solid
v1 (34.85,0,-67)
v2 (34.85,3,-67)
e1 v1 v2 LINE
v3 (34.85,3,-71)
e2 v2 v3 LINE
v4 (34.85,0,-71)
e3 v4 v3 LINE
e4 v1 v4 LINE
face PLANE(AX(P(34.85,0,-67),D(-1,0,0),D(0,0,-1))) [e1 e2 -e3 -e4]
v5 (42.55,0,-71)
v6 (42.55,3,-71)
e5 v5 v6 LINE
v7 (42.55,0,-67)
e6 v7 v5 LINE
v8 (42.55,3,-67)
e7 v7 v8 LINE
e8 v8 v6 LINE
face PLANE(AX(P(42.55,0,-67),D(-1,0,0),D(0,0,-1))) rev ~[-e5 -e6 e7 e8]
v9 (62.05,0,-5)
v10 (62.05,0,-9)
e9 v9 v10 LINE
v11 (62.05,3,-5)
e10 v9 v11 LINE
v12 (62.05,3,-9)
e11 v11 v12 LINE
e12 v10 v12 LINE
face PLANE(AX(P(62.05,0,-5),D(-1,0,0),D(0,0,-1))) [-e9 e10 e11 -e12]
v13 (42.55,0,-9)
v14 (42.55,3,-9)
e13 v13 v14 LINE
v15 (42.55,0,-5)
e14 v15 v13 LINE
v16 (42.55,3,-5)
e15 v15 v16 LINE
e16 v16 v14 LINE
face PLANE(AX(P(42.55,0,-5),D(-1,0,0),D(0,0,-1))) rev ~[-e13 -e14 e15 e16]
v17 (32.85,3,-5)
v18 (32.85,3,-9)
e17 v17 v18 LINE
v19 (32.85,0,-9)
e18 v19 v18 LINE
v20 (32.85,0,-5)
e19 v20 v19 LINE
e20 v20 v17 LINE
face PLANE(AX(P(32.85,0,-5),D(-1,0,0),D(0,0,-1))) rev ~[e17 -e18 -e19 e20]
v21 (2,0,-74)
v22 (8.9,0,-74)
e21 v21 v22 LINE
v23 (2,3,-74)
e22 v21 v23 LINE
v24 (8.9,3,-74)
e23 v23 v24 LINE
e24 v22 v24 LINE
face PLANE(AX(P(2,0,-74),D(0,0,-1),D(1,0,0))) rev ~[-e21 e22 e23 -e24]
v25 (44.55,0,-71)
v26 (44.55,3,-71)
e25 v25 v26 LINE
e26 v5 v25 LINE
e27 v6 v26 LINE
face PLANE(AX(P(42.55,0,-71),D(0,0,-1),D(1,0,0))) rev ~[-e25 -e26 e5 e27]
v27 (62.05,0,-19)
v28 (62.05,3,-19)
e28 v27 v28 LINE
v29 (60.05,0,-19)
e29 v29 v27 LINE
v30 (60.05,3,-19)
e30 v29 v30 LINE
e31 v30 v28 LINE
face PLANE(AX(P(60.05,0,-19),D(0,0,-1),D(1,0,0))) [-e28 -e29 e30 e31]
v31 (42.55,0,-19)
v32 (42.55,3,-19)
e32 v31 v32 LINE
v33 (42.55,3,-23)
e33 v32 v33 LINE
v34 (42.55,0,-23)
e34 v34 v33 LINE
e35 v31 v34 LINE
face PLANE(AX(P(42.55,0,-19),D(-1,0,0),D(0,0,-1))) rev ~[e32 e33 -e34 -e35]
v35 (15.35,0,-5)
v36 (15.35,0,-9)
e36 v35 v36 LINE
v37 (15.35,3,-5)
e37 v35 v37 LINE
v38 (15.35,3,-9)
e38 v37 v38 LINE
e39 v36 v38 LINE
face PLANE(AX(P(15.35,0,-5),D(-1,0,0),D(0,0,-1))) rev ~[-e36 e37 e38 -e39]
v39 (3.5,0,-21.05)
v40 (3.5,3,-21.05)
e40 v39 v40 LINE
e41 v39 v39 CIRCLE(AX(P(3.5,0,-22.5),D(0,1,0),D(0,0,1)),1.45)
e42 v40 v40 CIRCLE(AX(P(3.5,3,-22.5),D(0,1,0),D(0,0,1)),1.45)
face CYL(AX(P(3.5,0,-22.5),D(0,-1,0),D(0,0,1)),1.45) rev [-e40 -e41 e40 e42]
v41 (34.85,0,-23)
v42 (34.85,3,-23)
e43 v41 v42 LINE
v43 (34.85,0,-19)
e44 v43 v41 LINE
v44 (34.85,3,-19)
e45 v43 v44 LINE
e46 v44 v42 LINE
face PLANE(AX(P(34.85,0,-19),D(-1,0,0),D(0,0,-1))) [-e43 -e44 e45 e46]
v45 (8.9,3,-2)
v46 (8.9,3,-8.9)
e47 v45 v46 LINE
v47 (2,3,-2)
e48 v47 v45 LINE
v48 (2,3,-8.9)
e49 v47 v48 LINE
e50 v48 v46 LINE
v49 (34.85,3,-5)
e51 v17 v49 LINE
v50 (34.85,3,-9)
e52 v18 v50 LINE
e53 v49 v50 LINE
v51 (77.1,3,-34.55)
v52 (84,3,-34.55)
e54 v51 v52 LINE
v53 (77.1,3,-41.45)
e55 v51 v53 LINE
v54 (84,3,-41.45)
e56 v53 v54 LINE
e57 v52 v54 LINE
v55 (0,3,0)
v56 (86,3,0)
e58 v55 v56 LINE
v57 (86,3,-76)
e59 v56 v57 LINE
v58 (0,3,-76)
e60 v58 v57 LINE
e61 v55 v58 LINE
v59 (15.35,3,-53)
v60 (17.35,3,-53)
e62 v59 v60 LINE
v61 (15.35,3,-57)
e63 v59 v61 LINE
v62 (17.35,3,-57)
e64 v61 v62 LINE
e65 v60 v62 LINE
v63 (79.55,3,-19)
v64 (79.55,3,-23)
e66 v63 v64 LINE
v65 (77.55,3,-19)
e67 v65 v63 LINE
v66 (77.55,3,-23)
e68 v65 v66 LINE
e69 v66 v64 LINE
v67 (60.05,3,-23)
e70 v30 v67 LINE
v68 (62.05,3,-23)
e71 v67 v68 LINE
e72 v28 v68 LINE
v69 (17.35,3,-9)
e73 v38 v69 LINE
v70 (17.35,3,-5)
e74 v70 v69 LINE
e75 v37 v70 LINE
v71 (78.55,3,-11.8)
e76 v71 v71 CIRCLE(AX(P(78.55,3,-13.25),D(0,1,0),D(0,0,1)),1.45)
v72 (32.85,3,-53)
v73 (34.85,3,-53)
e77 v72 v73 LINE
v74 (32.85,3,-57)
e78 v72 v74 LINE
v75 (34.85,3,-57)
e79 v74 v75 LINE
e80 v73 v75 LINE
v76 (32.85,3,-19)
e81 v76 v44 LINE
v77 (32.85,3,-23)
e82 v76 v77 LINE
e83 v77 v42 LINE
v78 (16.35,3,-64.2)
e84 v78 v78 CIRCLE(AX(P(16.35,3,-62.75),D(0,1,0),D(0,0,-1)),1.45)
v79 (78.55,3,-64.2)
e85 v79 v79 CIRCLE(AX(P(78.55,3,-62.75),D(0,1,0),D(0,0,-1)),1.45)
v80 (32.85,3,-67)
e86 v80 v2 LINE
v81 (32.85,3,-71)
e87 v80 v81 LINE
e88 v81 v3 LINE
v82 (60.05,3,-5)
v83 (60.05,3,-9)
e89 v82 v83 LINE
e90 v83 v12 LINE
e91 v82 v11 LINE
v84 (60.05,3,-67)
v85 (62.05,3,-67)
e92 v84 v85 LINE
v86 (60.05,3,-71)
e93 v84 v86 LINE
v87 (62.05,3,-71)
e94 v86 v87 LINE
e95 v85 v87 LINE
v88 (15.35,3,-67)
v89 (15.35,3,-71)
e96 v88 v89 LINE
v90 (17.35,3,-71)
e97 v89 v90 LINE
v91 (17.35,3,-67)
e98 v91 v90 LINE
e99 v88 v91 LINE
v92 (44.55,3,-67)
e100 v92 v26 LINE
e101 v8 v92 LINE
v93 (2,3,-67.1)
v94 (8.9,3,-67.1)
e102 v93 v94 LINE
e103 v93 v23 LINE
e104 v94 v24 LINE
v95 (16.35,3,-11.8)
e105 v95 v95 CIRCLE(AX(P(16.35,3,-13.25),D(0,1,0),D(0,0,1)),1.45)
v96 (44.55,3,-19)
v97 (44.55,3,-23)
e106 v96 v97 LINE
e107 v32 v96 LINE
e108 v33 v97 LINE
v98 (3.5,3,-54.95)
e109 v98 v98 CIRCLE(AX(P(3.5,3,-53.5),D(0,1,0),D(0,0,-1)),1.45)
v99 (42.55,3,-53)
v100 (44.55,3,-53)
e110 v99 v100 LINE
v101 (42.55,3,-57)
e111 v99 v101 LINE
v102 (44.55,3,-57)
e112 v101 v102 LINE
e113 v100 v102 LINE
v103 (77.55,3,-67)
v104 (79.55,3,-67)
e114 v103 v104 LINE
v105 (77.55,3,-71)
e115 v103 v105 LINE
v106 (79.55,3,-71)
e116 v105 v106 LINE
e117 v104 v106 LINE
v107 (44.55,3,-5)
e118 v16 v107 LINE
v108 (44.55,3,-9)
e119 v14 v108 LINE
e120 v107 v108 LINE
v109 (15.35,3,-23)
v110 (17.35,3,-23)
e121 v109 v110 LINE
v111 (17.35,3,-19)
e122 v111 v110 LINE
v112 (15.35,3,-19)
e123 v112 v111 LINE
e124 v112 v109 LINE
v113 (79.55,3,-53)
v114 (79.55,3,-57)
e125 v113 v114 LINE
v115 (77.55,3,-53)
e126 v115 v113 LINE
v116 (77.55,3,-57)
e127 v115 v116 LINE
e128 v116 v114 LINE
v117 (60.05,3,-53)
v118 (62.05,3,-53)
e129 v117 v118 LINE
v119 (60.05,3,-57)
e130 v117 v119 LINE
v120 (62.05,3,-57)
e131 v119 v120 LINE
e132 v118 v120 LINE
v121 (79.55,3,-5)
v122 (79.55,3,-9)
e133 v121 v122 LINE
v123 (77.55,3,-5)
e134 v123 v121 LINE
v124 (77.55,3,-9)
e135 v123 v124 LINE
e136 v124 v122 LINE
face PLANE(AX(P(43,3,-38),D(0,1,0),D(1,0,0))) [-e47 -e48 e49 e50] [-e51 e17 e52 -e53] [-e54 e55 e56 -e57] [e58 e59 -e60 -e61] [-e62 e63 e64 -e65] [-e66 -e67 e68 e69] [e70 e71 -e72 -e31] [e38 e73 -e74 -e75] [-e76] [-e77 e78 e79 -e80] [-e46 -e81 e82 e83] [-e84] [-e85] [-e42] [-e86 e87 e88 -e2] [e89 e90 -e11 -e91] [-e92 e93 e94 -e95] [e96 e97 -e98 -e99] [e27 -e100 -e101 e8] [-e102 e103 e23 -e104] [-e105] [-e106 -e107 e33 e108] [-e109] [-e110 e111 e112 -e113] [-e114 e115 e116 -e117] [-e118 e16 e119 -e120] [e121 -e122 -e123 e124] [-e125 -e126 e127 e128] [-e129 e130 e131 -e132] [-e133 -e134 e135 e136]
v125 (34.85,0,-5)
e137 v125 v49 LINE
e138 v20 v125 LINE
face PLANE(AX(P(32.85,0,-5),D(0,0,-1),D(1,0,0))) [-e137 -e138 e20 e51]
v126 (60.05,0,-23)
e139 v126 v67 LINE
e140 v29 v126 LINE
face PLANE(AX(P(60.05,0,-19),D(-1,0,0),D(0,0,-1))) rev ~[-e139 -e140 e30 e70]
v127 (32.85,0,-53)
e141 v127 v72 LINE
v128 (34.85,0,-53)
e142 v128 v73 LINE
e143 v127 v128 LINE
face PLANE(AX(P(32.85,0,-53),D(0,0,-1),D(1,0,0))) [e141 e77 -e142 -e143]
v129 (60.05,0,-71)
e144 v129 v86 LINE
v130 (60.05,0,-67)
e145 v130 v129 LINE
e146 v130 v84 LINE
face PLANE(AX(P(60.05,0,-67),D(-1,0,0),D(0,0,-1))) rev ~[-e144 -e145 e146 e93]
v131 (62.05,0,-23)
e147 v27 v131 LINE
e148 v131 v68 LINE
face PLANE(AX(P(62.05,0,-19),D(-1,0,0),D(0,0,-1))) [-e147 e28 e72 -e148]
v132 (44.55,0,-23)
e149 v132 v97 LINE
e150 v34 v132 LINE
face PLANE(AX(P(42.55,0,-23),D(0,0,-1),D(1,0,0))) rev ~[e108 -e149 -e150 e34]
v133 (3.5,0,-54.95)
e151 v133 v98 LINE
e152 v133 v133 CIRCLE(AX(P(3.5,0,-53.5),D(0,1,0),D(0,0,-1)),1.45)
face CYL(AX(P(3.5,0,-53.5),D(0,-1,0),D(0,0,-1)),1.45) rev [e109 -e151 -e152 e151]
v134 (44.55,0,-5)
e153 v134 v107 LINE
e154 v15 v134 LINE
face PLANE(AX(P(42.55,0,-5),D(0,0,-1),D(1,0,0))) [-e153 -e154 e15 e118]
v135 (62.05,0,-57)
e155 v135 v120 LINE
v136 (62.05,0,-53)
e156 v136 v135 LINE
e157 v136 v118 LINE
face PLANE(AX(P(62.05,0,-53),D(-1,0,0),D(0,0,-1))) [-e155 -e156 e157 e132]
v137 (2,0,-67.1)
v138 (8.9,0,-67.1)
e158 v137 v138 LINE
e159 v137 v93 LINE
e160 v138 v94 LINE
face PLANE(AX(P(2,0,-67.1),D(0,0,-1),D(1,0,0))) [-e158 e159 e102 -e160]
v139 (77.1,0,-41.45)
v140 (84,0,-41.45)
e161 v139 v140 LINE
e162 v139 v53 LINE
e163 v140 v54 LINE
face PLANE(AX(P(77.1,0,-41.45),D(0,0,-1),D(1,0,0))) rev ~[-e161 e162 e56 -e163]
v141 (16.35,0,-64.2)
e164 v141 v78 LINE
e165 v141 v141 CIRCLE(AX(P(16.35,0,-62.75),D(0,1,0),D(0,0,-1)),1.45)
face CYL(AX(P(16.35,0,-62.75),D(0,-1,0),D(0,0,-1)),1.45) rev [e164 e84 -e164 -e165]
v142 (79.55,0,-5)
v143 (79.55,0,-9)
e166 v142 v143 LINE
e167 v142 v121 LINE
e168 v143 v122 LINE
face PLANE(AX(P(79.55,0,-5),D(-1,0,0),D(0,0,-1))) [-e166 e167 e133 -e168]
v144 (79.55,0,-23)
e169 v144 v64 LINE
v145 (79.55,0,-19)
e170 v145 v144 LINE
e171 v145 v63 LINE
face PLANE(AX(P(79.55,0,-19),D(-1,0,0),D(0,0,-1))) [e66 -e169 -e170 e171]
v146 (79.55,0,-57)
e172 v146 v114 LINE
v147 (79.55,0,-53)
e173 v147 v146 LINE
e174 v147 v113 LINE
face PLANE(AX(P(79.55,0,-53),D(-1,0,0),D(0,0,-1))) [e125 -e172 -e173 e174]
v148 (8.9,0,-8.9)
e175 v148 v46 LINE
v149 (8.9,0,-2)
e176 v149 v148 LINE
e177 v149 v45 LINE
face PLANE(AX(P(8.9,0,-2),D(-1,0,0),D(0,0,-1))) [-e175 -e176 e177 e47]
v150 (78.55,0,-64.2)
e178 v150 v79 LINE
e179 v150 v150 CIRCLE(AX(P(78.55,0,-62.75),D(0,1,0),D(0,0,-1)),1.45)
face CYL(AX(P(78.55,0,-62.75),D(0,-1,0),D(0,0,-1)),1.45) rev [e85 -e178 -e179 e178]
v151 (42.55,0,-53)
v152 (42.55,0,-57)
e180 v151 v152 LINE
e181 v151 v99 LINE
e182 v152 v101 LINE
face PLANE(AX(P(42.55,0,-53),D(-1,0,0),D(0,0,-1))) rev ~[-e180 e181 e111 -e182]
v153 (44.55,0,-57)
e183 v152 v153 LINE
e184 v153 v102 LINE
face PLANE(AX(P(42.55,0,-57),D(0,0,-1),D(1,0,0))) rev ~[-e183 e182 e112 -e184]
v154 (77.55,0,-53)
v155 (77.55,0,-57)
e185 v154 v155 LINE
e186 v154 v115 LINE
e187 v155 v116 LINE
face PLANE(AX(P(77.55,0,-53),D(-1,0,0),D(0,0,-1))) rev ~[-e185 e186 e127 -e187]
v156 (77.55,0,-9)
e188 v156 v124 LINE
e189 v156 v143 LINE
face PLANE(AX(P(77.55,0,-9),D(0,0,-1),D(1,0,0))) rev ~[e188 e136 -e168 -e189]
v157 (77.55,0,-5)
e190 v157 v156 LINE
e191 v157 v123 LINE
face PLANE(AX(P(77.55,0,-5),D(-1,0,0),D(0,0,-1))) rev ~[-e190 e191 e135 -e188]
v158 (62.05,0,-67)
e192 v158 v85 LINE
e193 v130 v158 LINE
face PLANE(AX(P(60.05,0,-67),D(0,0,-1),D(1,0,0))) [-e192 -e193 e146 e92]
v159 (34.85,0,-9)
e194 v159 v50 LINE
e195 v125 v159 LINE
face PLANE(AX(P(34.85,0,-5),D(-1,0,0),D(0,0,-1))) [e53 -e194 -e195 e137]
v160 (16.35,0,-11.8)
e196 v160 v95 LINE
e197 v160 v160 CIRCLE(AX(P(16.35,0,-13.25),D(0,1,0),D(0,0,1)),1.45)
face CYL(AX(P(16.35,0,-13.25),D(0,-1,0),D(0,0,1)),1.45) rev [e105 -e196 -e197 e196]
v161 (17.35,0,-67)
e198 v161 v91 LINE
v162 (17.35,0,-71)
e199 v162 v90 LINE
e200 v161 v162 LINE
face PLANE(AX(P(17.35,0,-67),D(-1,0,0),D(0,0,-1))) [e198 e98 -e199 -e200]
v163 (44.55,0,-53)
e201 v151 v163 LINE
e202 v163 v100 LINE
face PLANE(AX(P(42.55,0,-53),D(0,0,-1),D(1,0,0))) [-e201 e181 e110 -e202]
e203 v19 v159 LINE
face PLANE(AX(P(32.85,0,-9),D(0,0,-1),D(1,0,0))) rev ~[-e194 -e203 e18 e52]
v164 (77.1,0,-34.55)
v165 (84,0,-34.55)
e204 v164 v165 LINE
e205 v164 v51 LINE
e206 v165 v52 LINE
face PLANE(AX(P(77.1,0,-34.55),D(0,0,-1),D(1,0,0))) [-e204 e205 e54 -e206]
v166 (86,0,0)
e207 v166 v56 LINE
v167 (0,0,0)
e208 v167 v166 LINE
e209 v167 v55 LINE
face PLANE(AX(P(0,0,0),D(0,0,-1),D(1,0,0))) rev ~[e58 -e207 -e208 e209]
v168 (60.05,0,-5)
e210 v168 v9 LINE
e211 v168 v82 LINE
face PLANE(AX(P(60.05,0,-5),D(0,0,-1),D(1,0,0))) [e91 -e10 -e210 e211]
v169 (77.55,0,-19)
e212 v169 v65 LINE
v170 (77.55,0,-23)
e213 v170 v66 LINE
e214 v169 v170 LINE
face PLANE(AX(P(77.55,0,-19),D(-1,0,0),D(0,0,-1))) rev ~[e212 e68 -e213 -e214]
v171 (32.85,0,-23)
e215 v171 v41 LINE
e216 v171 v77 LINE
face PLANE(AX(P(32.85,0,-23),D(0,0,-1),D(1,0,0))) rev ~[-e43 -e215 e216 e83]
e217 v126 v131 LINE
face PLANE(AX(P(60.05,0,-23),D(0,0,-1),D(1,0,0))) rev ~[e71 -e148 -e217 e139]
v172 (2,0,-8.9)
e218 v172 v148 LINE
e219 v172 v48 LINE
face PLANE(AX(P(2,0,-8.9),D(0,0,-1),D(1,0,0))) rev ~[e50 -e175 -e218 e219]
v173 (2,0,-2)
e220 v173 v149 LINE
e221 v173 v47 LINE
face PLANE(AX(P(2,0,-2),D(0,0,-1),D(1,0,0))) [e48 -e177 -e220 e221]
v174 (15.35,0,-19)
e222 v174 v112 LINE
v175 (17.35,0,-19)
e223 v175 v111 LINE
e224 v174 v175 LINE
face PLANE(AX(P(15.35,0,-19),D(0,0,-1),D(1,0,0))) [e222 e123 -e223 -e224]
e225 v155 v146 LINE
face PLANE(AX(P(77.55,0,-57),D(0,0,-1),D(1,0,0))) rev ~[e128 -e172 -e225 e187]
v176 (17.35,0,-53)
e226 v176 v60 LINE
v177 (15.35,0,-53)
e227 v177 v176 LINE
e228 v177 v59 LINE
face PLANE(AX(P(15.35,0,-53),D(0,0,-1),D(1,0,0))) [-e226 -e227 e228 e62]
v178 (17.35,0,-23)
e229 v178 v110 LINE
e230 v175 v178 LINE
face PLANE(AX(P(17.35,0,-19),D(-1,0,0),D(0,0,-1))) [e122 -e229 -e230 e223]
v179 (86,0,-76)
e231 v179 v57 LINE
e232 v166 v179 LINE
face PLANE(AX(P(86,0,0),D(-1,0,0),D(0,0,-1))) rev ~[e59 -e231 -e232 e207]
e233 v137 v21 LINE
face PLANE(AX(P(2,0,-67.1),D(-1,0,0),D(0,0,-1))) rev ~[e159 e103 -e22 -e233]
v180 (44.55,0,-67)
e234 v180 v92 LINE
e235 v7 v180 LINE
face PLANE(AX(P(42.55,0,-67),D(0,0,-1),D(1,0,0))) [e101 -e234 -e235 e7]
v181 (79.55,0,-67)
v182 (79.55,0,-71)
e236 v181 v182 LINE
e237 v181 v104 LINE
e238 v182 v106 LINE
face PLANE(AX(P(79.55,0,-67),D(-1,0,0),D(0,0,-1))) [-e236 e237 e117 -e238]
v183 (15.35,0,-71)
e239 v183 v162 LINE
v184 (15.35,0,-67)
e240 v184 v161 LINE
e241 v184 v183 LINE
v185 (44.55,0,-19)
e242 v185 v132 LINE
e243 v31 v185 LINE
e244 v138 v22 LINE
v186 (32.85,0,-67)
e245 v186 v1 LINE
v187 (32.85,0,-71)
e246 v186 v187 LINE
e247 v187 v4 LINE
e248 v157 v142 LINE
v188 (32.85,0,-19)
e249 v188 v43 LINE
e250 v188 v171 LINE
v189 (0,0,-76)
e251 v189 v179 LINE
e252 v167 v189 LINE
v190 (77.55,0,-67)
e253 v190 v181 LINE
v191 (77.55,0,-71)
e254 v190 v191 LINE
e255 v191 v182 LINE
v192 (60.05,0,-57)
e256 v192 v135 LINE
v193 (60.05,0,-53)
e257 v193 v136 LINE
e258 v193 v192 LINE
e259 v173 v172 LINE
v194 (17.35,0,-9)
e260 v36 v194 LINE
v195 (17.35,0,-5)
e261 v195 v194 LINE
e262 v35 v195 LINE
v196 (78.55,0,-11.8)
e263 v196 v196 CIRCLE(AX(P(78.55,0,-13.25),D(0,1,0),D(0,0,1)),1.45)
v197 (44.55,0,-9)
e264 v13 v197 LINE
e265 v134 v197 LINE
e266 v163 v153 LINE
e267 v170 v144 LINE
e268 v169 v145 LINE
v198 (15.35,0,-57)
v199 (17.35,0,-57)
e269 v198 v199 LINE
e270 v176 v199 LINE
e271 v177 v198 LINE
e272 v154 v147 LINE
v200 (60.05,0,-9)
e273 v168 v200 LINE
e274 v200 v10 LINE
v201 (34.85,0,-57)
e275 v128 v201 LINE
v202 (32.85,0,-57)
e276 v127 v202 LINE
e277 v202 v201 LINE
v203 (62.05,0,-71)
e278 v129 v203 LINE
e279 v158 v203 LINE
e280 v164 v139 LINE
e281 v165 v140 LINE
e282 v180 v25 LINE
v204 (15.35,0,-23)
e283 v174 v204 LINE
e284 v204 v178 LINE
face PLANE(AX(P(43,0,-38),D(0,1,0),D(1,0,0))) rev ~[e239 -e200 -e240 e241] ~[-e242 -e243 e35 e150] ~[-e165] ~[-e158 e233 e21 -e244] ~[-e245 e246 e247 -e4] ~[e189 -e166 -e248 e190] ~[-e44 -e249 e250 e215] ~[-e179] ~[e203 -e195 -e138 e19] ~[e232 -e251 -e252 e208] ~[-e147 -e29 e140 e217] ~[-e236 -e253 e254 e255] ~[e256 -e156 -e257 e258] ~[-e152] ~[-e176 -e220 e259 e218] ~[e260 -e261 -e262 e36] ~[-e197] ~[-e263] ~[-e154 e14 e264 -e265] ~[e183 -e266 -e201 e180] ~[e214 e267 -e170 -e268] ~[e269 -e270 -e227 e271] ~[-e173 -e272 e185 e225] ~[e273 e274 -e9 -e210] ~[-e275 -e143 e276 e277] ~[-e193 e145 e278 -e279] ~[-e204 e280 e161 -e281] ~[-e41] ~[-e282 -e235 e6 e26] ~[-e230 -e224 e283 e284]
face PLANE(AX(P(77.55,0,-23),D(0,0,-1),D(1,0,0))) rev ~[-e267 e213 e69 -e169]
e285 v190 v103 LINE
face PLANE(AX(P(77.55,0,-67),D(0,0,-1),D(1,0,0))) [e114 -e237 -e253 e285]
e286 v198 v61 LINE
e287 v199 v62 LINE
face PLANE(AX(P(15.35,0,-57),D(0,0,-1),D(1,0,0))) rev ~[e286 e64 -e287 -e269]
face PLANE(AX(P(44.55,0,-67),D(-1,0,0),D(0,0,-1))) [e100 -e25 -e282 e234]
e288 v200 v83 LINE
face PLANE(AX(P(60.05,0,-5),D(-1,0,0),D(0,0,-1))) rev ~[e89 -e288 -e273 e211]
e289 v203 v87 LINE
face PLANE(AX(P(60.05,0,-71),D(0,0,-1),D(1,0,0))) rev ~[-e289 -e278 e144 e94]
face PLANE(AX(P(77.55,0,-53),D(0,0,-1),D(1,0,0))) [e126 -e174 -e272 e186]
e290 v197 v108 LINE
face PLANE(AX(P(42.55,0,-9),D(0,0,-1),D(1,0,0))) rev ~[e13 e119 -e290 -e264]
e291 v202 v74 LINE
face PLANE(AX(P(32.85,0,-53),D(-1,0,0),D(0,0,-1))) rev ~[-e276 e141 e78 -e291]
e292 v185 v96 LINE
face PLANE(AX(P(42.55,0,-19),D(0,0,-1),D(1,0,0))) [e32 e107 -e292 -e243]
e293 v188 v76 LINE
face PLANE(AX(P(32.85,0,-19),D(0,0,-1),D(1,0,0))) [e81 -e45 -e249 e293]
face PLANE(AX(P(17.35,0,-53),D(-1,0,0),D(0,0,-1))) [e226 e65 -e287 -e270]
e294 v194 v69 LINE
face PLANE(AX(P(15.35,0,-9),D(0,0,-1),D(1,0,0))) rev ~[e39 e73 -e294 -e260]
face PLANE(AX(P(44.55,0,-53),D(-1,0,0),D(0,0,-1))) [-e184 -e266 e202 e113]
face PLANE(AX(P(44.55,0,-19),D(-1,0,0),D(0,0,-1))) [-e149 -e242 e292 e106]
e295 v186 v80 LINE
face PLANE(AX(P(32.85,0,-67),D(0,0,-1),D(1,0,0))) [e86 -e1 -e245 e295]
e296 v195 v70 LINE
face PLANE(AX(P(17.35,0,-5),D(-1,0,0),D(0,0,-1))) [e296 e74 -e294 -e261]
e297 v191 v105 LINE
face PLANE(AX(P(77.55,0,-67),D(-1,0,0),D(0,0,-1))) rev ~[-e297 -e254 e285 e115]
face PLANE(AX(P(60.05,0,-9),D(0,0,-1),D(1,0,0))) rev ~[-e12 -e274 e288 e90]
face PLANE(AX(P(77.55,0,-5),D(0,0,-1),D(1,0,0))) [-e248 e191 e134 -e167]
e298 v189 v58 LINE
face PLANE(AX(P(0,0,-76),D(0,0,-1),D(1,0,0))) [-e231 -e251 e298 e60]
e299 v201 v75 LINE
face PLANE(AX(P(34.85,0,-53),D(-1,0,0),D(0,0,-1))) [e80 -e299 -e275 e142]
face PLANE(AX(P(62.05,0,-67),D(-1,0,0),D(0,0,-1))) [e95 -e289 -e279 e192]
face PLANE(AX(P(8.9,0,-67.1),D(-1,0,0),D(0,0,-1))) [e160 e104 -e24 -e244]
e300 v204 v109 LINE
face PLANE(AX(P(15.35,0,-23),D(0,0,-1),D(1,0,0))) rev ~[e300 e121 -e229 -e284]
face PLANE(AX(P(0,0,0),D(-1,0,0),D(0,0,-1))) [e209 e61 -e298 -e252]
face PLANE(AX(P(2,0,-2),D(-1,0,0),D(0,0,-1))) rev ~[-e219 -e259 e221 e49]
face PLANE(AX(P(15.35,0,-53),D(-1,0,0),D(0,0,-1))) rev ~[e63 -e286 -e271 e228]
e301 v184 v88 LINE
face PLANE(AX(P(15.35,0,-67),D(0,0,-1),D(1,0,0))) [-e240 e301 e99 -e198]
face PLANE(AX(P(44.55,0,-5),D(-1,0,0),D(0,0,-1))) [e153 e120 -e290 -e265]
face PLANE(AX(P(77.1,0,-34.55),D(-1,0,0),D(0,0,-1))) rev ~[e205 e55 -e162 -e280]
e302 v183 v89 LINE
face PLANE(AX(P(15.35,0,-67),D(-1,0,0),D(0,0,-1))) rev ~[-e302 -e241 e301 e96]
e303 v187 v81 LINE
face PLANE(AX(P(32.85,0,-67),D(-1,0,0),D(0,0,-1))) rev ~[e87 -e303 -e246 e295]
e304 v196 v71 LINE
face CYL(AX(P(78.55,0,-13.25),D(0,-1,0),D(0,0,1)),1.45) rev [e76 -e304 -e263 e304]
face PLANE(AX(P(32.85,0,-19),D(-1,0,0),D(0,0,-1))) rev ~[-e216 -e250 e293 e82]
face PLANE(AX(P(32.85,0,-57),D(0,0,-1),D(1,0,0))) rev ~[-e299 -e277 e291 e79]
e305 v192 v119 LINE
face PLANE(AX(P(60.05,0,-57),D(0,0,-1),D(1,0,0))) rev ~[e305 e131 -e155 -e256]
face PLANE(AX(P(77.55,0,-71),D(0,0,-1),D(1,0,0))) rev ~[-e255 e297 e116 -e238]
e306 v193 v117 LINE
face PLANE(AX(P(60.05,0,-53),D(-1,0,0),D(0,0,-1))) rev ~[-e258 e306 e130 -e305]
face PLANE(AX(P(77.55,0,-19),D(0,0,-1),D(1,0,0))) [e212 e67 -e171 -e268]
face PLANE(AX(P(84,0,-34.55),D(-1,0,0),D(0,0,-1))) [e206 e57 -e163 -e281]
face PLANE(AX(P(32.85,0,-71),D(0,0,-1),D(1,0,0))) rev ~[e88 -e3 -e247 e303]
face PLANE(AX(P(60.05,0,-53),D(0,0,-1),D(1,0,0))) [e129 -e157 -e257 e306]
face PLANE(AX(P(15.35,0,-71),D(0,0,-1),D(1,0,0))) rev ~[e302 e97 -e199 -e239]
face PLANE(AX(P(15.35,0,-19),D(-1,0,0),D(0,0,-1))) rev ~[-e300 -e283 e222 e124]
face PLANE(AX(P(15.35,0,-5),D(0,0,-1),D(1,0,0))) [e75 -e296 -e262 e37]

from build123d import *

# Parameters (mm, degrees)
ESQUISSE1_W        = 86
ESQUISSE1_H        = 76
ESQUISSE1_R        = 1.45
ESQUISSE1_W_2      = 2
ESQUISSE1_H_2      = 4
ESQUISSE1_W_3      = 6.9
ESQUISSE1_H_3      = 6.9
BOSS_EXTRU_1_DEPTH = 3


with BuildPart() as part:
    # Esquisse1 → Boss.-Extru.1 (new body)
    with BuildSketch(Plane(origin=(0, 0, 0), x_dir=(1, 0, 0), z_dir=(0, 1, 0))):
        with Locations((43, 38)):
            Rectangle(ESQUISSE1_W, ESQUISSE1_H)
        with Locations(Location((16.35, 13.25, 0), (0, 0, 270))):
            Circle(ESQUISSE1_R, mode=Mode.SUBTRACT)
        with Locations(Location((78.55, 13.25, 0), (0, 0, 270))):
            Circle(ESQUISSE1_R, mode=Mode.SUBTRACT)
        with Locations(Location((78.55, 62.75, 0), (0, 0, 90))):
            Circle(ESQUISSE1_R, mode=Mode.SUBTRACT)
        with Locations(Location((16.35, 62.75, 0), (0, 0, 90))):
            Circle(ESQUISSE1_R, mode=Mode.SUBTRACT)
        with Locations(Location((3.5, 22.5, 0), (0, 0, 270))):
            Circle(ESQUISSE1_R, mode=Mode.SUBTRACT)
        with Locations(Location((3.5, 53.5, 0), (0, 0, 90))):
            Circle(ESQUISSE1_R, mode=Mode.SUBTRACT)
        with Locations((61.05, 7)):
            Rectangle(ESQUISSE1_W_2, ESQUISSE1_H_2, mode=Mode.SUBTRACT)
        with Locations((16.35, 7)):
            Rectangle(ESQUISSE1_W_2, ESQUISSE1_H_2, mode=Mode.SUBTRACT)
        with Locations((80.55, 38)):
            Rectangle(ESQUISSE1_W_3, ESQUISSE1_H_3, mode=Mode.SUBTRACT)
        with Locations((33.85, 7)):
            Rectangle(ESQUISSE1_W_2, ESQUISSE1_H_2, mode=Mode.SUBTRACT)
        with Locations((5.45, 5.45)):
            Rectangle(ESQUISSE1_W_3, ESQUISSE1_H_3, mode=Mode.SUBTRACT)
        with Locations((33.85, 21)):
            Rectangle(ESQUISSE1_W_2, ESQUISSE1_H_2, mode=Mode.SUBTRACT)
        with Locations((16.35, 21)):
            Rectangle(ESQUISSE1_W_2, ESQUISSE1_H_2, mode=Mode.SUBTRACT)
        with Locations((78.55, 7)):
            Rectangle(ESQUISSE1_W_2, ESQUISSE1_H_2, mode=Mode.SUBTRACT)
        with Locations((78.55, 21)):
            Rectangle(ESQUISSE1_W_2, ESQUISSE1_H_2, mode=Mode.SUBTRACT)
        with Locations((61.05, 21)):
            Rectangle(ESQUISSE1_W_2, ESQUISSE1_H_2, mode=Mode.SUBTRACT)
        with Locations((61.05, 55)):
            Rectangle(ESQUISSE1_W_2, ESQUISSE1_H_2, mode=Mode.SUBTRACT)
        with Locations((78.55, 55)):
            Rectangle(ESQUISSE1_W_2, ESQUISSE1_H_2, mode=Mode.SUBTRACT)
        with Locations((78.55, 69)):
            Rectangle(ESQUISSE1_W_2, ESQUISSE1_H_2, mode=Mode.SUBTRACT)
        with Locations((16.35, 55)):
            Rectangle(ESQUISSE1_W_2, ESQUISSE1_H_2, mode=Mode.SUBTRACT)
        with Locations((33.85, 55)):
            Rectangle(ESQUISSE1_W_2, ESQUISSE1_H_2, mode=Mode.SUBTRACT)
        with Locations((33.85, 69)):
            Rectangle(ESQUISSE1_W_2, ESQUISSE1_H_2, mode=Mode.SUBTRACT)
        with Locations((5.45, 70.55)):
            Rectangle(ESQUISSE1_W_3, ESQUISSE1_H_3, mode=Mode.SUBTRACT)
        with Locations((61.05, 69)):
            Rectangle(ESQUISSE1_W_2, ESQUISSE1_H_2, mode=Mode.SUBTRACT)
        with Locations((16.35, 69)):
            Rectangle(ESQUISSE1_W_2, ESQUISSE1_H_2, mode=Mode.SUBTRACT)
        with Locations((43.55, 55)):
            Rectangle(ESQUISSE1_W_2, ESQUISSE1_H_2, mode=Mode.SUBTRACT)
        with Locations((43.55, 7)):
            Rectangle(ESQUISSE1_W_2, ESQUISSE1_H_2, mode=Mode.SUBTRACT)
        with Locations((43.55, 21)):
            Rectangle(ESQUISSE1_W_2, ESQUISSE1_H_2, mode=Mode.SUBTRACT)
        with Locations((43.55, 69)):
            Rectangle(ESQUISSE1_W_2, ESQUISSE1_H_2, mode=Mode.SUBTRACT)
    extrude(amount=BOSS_EXTRU_1_DEPTH)


solid = part.part
